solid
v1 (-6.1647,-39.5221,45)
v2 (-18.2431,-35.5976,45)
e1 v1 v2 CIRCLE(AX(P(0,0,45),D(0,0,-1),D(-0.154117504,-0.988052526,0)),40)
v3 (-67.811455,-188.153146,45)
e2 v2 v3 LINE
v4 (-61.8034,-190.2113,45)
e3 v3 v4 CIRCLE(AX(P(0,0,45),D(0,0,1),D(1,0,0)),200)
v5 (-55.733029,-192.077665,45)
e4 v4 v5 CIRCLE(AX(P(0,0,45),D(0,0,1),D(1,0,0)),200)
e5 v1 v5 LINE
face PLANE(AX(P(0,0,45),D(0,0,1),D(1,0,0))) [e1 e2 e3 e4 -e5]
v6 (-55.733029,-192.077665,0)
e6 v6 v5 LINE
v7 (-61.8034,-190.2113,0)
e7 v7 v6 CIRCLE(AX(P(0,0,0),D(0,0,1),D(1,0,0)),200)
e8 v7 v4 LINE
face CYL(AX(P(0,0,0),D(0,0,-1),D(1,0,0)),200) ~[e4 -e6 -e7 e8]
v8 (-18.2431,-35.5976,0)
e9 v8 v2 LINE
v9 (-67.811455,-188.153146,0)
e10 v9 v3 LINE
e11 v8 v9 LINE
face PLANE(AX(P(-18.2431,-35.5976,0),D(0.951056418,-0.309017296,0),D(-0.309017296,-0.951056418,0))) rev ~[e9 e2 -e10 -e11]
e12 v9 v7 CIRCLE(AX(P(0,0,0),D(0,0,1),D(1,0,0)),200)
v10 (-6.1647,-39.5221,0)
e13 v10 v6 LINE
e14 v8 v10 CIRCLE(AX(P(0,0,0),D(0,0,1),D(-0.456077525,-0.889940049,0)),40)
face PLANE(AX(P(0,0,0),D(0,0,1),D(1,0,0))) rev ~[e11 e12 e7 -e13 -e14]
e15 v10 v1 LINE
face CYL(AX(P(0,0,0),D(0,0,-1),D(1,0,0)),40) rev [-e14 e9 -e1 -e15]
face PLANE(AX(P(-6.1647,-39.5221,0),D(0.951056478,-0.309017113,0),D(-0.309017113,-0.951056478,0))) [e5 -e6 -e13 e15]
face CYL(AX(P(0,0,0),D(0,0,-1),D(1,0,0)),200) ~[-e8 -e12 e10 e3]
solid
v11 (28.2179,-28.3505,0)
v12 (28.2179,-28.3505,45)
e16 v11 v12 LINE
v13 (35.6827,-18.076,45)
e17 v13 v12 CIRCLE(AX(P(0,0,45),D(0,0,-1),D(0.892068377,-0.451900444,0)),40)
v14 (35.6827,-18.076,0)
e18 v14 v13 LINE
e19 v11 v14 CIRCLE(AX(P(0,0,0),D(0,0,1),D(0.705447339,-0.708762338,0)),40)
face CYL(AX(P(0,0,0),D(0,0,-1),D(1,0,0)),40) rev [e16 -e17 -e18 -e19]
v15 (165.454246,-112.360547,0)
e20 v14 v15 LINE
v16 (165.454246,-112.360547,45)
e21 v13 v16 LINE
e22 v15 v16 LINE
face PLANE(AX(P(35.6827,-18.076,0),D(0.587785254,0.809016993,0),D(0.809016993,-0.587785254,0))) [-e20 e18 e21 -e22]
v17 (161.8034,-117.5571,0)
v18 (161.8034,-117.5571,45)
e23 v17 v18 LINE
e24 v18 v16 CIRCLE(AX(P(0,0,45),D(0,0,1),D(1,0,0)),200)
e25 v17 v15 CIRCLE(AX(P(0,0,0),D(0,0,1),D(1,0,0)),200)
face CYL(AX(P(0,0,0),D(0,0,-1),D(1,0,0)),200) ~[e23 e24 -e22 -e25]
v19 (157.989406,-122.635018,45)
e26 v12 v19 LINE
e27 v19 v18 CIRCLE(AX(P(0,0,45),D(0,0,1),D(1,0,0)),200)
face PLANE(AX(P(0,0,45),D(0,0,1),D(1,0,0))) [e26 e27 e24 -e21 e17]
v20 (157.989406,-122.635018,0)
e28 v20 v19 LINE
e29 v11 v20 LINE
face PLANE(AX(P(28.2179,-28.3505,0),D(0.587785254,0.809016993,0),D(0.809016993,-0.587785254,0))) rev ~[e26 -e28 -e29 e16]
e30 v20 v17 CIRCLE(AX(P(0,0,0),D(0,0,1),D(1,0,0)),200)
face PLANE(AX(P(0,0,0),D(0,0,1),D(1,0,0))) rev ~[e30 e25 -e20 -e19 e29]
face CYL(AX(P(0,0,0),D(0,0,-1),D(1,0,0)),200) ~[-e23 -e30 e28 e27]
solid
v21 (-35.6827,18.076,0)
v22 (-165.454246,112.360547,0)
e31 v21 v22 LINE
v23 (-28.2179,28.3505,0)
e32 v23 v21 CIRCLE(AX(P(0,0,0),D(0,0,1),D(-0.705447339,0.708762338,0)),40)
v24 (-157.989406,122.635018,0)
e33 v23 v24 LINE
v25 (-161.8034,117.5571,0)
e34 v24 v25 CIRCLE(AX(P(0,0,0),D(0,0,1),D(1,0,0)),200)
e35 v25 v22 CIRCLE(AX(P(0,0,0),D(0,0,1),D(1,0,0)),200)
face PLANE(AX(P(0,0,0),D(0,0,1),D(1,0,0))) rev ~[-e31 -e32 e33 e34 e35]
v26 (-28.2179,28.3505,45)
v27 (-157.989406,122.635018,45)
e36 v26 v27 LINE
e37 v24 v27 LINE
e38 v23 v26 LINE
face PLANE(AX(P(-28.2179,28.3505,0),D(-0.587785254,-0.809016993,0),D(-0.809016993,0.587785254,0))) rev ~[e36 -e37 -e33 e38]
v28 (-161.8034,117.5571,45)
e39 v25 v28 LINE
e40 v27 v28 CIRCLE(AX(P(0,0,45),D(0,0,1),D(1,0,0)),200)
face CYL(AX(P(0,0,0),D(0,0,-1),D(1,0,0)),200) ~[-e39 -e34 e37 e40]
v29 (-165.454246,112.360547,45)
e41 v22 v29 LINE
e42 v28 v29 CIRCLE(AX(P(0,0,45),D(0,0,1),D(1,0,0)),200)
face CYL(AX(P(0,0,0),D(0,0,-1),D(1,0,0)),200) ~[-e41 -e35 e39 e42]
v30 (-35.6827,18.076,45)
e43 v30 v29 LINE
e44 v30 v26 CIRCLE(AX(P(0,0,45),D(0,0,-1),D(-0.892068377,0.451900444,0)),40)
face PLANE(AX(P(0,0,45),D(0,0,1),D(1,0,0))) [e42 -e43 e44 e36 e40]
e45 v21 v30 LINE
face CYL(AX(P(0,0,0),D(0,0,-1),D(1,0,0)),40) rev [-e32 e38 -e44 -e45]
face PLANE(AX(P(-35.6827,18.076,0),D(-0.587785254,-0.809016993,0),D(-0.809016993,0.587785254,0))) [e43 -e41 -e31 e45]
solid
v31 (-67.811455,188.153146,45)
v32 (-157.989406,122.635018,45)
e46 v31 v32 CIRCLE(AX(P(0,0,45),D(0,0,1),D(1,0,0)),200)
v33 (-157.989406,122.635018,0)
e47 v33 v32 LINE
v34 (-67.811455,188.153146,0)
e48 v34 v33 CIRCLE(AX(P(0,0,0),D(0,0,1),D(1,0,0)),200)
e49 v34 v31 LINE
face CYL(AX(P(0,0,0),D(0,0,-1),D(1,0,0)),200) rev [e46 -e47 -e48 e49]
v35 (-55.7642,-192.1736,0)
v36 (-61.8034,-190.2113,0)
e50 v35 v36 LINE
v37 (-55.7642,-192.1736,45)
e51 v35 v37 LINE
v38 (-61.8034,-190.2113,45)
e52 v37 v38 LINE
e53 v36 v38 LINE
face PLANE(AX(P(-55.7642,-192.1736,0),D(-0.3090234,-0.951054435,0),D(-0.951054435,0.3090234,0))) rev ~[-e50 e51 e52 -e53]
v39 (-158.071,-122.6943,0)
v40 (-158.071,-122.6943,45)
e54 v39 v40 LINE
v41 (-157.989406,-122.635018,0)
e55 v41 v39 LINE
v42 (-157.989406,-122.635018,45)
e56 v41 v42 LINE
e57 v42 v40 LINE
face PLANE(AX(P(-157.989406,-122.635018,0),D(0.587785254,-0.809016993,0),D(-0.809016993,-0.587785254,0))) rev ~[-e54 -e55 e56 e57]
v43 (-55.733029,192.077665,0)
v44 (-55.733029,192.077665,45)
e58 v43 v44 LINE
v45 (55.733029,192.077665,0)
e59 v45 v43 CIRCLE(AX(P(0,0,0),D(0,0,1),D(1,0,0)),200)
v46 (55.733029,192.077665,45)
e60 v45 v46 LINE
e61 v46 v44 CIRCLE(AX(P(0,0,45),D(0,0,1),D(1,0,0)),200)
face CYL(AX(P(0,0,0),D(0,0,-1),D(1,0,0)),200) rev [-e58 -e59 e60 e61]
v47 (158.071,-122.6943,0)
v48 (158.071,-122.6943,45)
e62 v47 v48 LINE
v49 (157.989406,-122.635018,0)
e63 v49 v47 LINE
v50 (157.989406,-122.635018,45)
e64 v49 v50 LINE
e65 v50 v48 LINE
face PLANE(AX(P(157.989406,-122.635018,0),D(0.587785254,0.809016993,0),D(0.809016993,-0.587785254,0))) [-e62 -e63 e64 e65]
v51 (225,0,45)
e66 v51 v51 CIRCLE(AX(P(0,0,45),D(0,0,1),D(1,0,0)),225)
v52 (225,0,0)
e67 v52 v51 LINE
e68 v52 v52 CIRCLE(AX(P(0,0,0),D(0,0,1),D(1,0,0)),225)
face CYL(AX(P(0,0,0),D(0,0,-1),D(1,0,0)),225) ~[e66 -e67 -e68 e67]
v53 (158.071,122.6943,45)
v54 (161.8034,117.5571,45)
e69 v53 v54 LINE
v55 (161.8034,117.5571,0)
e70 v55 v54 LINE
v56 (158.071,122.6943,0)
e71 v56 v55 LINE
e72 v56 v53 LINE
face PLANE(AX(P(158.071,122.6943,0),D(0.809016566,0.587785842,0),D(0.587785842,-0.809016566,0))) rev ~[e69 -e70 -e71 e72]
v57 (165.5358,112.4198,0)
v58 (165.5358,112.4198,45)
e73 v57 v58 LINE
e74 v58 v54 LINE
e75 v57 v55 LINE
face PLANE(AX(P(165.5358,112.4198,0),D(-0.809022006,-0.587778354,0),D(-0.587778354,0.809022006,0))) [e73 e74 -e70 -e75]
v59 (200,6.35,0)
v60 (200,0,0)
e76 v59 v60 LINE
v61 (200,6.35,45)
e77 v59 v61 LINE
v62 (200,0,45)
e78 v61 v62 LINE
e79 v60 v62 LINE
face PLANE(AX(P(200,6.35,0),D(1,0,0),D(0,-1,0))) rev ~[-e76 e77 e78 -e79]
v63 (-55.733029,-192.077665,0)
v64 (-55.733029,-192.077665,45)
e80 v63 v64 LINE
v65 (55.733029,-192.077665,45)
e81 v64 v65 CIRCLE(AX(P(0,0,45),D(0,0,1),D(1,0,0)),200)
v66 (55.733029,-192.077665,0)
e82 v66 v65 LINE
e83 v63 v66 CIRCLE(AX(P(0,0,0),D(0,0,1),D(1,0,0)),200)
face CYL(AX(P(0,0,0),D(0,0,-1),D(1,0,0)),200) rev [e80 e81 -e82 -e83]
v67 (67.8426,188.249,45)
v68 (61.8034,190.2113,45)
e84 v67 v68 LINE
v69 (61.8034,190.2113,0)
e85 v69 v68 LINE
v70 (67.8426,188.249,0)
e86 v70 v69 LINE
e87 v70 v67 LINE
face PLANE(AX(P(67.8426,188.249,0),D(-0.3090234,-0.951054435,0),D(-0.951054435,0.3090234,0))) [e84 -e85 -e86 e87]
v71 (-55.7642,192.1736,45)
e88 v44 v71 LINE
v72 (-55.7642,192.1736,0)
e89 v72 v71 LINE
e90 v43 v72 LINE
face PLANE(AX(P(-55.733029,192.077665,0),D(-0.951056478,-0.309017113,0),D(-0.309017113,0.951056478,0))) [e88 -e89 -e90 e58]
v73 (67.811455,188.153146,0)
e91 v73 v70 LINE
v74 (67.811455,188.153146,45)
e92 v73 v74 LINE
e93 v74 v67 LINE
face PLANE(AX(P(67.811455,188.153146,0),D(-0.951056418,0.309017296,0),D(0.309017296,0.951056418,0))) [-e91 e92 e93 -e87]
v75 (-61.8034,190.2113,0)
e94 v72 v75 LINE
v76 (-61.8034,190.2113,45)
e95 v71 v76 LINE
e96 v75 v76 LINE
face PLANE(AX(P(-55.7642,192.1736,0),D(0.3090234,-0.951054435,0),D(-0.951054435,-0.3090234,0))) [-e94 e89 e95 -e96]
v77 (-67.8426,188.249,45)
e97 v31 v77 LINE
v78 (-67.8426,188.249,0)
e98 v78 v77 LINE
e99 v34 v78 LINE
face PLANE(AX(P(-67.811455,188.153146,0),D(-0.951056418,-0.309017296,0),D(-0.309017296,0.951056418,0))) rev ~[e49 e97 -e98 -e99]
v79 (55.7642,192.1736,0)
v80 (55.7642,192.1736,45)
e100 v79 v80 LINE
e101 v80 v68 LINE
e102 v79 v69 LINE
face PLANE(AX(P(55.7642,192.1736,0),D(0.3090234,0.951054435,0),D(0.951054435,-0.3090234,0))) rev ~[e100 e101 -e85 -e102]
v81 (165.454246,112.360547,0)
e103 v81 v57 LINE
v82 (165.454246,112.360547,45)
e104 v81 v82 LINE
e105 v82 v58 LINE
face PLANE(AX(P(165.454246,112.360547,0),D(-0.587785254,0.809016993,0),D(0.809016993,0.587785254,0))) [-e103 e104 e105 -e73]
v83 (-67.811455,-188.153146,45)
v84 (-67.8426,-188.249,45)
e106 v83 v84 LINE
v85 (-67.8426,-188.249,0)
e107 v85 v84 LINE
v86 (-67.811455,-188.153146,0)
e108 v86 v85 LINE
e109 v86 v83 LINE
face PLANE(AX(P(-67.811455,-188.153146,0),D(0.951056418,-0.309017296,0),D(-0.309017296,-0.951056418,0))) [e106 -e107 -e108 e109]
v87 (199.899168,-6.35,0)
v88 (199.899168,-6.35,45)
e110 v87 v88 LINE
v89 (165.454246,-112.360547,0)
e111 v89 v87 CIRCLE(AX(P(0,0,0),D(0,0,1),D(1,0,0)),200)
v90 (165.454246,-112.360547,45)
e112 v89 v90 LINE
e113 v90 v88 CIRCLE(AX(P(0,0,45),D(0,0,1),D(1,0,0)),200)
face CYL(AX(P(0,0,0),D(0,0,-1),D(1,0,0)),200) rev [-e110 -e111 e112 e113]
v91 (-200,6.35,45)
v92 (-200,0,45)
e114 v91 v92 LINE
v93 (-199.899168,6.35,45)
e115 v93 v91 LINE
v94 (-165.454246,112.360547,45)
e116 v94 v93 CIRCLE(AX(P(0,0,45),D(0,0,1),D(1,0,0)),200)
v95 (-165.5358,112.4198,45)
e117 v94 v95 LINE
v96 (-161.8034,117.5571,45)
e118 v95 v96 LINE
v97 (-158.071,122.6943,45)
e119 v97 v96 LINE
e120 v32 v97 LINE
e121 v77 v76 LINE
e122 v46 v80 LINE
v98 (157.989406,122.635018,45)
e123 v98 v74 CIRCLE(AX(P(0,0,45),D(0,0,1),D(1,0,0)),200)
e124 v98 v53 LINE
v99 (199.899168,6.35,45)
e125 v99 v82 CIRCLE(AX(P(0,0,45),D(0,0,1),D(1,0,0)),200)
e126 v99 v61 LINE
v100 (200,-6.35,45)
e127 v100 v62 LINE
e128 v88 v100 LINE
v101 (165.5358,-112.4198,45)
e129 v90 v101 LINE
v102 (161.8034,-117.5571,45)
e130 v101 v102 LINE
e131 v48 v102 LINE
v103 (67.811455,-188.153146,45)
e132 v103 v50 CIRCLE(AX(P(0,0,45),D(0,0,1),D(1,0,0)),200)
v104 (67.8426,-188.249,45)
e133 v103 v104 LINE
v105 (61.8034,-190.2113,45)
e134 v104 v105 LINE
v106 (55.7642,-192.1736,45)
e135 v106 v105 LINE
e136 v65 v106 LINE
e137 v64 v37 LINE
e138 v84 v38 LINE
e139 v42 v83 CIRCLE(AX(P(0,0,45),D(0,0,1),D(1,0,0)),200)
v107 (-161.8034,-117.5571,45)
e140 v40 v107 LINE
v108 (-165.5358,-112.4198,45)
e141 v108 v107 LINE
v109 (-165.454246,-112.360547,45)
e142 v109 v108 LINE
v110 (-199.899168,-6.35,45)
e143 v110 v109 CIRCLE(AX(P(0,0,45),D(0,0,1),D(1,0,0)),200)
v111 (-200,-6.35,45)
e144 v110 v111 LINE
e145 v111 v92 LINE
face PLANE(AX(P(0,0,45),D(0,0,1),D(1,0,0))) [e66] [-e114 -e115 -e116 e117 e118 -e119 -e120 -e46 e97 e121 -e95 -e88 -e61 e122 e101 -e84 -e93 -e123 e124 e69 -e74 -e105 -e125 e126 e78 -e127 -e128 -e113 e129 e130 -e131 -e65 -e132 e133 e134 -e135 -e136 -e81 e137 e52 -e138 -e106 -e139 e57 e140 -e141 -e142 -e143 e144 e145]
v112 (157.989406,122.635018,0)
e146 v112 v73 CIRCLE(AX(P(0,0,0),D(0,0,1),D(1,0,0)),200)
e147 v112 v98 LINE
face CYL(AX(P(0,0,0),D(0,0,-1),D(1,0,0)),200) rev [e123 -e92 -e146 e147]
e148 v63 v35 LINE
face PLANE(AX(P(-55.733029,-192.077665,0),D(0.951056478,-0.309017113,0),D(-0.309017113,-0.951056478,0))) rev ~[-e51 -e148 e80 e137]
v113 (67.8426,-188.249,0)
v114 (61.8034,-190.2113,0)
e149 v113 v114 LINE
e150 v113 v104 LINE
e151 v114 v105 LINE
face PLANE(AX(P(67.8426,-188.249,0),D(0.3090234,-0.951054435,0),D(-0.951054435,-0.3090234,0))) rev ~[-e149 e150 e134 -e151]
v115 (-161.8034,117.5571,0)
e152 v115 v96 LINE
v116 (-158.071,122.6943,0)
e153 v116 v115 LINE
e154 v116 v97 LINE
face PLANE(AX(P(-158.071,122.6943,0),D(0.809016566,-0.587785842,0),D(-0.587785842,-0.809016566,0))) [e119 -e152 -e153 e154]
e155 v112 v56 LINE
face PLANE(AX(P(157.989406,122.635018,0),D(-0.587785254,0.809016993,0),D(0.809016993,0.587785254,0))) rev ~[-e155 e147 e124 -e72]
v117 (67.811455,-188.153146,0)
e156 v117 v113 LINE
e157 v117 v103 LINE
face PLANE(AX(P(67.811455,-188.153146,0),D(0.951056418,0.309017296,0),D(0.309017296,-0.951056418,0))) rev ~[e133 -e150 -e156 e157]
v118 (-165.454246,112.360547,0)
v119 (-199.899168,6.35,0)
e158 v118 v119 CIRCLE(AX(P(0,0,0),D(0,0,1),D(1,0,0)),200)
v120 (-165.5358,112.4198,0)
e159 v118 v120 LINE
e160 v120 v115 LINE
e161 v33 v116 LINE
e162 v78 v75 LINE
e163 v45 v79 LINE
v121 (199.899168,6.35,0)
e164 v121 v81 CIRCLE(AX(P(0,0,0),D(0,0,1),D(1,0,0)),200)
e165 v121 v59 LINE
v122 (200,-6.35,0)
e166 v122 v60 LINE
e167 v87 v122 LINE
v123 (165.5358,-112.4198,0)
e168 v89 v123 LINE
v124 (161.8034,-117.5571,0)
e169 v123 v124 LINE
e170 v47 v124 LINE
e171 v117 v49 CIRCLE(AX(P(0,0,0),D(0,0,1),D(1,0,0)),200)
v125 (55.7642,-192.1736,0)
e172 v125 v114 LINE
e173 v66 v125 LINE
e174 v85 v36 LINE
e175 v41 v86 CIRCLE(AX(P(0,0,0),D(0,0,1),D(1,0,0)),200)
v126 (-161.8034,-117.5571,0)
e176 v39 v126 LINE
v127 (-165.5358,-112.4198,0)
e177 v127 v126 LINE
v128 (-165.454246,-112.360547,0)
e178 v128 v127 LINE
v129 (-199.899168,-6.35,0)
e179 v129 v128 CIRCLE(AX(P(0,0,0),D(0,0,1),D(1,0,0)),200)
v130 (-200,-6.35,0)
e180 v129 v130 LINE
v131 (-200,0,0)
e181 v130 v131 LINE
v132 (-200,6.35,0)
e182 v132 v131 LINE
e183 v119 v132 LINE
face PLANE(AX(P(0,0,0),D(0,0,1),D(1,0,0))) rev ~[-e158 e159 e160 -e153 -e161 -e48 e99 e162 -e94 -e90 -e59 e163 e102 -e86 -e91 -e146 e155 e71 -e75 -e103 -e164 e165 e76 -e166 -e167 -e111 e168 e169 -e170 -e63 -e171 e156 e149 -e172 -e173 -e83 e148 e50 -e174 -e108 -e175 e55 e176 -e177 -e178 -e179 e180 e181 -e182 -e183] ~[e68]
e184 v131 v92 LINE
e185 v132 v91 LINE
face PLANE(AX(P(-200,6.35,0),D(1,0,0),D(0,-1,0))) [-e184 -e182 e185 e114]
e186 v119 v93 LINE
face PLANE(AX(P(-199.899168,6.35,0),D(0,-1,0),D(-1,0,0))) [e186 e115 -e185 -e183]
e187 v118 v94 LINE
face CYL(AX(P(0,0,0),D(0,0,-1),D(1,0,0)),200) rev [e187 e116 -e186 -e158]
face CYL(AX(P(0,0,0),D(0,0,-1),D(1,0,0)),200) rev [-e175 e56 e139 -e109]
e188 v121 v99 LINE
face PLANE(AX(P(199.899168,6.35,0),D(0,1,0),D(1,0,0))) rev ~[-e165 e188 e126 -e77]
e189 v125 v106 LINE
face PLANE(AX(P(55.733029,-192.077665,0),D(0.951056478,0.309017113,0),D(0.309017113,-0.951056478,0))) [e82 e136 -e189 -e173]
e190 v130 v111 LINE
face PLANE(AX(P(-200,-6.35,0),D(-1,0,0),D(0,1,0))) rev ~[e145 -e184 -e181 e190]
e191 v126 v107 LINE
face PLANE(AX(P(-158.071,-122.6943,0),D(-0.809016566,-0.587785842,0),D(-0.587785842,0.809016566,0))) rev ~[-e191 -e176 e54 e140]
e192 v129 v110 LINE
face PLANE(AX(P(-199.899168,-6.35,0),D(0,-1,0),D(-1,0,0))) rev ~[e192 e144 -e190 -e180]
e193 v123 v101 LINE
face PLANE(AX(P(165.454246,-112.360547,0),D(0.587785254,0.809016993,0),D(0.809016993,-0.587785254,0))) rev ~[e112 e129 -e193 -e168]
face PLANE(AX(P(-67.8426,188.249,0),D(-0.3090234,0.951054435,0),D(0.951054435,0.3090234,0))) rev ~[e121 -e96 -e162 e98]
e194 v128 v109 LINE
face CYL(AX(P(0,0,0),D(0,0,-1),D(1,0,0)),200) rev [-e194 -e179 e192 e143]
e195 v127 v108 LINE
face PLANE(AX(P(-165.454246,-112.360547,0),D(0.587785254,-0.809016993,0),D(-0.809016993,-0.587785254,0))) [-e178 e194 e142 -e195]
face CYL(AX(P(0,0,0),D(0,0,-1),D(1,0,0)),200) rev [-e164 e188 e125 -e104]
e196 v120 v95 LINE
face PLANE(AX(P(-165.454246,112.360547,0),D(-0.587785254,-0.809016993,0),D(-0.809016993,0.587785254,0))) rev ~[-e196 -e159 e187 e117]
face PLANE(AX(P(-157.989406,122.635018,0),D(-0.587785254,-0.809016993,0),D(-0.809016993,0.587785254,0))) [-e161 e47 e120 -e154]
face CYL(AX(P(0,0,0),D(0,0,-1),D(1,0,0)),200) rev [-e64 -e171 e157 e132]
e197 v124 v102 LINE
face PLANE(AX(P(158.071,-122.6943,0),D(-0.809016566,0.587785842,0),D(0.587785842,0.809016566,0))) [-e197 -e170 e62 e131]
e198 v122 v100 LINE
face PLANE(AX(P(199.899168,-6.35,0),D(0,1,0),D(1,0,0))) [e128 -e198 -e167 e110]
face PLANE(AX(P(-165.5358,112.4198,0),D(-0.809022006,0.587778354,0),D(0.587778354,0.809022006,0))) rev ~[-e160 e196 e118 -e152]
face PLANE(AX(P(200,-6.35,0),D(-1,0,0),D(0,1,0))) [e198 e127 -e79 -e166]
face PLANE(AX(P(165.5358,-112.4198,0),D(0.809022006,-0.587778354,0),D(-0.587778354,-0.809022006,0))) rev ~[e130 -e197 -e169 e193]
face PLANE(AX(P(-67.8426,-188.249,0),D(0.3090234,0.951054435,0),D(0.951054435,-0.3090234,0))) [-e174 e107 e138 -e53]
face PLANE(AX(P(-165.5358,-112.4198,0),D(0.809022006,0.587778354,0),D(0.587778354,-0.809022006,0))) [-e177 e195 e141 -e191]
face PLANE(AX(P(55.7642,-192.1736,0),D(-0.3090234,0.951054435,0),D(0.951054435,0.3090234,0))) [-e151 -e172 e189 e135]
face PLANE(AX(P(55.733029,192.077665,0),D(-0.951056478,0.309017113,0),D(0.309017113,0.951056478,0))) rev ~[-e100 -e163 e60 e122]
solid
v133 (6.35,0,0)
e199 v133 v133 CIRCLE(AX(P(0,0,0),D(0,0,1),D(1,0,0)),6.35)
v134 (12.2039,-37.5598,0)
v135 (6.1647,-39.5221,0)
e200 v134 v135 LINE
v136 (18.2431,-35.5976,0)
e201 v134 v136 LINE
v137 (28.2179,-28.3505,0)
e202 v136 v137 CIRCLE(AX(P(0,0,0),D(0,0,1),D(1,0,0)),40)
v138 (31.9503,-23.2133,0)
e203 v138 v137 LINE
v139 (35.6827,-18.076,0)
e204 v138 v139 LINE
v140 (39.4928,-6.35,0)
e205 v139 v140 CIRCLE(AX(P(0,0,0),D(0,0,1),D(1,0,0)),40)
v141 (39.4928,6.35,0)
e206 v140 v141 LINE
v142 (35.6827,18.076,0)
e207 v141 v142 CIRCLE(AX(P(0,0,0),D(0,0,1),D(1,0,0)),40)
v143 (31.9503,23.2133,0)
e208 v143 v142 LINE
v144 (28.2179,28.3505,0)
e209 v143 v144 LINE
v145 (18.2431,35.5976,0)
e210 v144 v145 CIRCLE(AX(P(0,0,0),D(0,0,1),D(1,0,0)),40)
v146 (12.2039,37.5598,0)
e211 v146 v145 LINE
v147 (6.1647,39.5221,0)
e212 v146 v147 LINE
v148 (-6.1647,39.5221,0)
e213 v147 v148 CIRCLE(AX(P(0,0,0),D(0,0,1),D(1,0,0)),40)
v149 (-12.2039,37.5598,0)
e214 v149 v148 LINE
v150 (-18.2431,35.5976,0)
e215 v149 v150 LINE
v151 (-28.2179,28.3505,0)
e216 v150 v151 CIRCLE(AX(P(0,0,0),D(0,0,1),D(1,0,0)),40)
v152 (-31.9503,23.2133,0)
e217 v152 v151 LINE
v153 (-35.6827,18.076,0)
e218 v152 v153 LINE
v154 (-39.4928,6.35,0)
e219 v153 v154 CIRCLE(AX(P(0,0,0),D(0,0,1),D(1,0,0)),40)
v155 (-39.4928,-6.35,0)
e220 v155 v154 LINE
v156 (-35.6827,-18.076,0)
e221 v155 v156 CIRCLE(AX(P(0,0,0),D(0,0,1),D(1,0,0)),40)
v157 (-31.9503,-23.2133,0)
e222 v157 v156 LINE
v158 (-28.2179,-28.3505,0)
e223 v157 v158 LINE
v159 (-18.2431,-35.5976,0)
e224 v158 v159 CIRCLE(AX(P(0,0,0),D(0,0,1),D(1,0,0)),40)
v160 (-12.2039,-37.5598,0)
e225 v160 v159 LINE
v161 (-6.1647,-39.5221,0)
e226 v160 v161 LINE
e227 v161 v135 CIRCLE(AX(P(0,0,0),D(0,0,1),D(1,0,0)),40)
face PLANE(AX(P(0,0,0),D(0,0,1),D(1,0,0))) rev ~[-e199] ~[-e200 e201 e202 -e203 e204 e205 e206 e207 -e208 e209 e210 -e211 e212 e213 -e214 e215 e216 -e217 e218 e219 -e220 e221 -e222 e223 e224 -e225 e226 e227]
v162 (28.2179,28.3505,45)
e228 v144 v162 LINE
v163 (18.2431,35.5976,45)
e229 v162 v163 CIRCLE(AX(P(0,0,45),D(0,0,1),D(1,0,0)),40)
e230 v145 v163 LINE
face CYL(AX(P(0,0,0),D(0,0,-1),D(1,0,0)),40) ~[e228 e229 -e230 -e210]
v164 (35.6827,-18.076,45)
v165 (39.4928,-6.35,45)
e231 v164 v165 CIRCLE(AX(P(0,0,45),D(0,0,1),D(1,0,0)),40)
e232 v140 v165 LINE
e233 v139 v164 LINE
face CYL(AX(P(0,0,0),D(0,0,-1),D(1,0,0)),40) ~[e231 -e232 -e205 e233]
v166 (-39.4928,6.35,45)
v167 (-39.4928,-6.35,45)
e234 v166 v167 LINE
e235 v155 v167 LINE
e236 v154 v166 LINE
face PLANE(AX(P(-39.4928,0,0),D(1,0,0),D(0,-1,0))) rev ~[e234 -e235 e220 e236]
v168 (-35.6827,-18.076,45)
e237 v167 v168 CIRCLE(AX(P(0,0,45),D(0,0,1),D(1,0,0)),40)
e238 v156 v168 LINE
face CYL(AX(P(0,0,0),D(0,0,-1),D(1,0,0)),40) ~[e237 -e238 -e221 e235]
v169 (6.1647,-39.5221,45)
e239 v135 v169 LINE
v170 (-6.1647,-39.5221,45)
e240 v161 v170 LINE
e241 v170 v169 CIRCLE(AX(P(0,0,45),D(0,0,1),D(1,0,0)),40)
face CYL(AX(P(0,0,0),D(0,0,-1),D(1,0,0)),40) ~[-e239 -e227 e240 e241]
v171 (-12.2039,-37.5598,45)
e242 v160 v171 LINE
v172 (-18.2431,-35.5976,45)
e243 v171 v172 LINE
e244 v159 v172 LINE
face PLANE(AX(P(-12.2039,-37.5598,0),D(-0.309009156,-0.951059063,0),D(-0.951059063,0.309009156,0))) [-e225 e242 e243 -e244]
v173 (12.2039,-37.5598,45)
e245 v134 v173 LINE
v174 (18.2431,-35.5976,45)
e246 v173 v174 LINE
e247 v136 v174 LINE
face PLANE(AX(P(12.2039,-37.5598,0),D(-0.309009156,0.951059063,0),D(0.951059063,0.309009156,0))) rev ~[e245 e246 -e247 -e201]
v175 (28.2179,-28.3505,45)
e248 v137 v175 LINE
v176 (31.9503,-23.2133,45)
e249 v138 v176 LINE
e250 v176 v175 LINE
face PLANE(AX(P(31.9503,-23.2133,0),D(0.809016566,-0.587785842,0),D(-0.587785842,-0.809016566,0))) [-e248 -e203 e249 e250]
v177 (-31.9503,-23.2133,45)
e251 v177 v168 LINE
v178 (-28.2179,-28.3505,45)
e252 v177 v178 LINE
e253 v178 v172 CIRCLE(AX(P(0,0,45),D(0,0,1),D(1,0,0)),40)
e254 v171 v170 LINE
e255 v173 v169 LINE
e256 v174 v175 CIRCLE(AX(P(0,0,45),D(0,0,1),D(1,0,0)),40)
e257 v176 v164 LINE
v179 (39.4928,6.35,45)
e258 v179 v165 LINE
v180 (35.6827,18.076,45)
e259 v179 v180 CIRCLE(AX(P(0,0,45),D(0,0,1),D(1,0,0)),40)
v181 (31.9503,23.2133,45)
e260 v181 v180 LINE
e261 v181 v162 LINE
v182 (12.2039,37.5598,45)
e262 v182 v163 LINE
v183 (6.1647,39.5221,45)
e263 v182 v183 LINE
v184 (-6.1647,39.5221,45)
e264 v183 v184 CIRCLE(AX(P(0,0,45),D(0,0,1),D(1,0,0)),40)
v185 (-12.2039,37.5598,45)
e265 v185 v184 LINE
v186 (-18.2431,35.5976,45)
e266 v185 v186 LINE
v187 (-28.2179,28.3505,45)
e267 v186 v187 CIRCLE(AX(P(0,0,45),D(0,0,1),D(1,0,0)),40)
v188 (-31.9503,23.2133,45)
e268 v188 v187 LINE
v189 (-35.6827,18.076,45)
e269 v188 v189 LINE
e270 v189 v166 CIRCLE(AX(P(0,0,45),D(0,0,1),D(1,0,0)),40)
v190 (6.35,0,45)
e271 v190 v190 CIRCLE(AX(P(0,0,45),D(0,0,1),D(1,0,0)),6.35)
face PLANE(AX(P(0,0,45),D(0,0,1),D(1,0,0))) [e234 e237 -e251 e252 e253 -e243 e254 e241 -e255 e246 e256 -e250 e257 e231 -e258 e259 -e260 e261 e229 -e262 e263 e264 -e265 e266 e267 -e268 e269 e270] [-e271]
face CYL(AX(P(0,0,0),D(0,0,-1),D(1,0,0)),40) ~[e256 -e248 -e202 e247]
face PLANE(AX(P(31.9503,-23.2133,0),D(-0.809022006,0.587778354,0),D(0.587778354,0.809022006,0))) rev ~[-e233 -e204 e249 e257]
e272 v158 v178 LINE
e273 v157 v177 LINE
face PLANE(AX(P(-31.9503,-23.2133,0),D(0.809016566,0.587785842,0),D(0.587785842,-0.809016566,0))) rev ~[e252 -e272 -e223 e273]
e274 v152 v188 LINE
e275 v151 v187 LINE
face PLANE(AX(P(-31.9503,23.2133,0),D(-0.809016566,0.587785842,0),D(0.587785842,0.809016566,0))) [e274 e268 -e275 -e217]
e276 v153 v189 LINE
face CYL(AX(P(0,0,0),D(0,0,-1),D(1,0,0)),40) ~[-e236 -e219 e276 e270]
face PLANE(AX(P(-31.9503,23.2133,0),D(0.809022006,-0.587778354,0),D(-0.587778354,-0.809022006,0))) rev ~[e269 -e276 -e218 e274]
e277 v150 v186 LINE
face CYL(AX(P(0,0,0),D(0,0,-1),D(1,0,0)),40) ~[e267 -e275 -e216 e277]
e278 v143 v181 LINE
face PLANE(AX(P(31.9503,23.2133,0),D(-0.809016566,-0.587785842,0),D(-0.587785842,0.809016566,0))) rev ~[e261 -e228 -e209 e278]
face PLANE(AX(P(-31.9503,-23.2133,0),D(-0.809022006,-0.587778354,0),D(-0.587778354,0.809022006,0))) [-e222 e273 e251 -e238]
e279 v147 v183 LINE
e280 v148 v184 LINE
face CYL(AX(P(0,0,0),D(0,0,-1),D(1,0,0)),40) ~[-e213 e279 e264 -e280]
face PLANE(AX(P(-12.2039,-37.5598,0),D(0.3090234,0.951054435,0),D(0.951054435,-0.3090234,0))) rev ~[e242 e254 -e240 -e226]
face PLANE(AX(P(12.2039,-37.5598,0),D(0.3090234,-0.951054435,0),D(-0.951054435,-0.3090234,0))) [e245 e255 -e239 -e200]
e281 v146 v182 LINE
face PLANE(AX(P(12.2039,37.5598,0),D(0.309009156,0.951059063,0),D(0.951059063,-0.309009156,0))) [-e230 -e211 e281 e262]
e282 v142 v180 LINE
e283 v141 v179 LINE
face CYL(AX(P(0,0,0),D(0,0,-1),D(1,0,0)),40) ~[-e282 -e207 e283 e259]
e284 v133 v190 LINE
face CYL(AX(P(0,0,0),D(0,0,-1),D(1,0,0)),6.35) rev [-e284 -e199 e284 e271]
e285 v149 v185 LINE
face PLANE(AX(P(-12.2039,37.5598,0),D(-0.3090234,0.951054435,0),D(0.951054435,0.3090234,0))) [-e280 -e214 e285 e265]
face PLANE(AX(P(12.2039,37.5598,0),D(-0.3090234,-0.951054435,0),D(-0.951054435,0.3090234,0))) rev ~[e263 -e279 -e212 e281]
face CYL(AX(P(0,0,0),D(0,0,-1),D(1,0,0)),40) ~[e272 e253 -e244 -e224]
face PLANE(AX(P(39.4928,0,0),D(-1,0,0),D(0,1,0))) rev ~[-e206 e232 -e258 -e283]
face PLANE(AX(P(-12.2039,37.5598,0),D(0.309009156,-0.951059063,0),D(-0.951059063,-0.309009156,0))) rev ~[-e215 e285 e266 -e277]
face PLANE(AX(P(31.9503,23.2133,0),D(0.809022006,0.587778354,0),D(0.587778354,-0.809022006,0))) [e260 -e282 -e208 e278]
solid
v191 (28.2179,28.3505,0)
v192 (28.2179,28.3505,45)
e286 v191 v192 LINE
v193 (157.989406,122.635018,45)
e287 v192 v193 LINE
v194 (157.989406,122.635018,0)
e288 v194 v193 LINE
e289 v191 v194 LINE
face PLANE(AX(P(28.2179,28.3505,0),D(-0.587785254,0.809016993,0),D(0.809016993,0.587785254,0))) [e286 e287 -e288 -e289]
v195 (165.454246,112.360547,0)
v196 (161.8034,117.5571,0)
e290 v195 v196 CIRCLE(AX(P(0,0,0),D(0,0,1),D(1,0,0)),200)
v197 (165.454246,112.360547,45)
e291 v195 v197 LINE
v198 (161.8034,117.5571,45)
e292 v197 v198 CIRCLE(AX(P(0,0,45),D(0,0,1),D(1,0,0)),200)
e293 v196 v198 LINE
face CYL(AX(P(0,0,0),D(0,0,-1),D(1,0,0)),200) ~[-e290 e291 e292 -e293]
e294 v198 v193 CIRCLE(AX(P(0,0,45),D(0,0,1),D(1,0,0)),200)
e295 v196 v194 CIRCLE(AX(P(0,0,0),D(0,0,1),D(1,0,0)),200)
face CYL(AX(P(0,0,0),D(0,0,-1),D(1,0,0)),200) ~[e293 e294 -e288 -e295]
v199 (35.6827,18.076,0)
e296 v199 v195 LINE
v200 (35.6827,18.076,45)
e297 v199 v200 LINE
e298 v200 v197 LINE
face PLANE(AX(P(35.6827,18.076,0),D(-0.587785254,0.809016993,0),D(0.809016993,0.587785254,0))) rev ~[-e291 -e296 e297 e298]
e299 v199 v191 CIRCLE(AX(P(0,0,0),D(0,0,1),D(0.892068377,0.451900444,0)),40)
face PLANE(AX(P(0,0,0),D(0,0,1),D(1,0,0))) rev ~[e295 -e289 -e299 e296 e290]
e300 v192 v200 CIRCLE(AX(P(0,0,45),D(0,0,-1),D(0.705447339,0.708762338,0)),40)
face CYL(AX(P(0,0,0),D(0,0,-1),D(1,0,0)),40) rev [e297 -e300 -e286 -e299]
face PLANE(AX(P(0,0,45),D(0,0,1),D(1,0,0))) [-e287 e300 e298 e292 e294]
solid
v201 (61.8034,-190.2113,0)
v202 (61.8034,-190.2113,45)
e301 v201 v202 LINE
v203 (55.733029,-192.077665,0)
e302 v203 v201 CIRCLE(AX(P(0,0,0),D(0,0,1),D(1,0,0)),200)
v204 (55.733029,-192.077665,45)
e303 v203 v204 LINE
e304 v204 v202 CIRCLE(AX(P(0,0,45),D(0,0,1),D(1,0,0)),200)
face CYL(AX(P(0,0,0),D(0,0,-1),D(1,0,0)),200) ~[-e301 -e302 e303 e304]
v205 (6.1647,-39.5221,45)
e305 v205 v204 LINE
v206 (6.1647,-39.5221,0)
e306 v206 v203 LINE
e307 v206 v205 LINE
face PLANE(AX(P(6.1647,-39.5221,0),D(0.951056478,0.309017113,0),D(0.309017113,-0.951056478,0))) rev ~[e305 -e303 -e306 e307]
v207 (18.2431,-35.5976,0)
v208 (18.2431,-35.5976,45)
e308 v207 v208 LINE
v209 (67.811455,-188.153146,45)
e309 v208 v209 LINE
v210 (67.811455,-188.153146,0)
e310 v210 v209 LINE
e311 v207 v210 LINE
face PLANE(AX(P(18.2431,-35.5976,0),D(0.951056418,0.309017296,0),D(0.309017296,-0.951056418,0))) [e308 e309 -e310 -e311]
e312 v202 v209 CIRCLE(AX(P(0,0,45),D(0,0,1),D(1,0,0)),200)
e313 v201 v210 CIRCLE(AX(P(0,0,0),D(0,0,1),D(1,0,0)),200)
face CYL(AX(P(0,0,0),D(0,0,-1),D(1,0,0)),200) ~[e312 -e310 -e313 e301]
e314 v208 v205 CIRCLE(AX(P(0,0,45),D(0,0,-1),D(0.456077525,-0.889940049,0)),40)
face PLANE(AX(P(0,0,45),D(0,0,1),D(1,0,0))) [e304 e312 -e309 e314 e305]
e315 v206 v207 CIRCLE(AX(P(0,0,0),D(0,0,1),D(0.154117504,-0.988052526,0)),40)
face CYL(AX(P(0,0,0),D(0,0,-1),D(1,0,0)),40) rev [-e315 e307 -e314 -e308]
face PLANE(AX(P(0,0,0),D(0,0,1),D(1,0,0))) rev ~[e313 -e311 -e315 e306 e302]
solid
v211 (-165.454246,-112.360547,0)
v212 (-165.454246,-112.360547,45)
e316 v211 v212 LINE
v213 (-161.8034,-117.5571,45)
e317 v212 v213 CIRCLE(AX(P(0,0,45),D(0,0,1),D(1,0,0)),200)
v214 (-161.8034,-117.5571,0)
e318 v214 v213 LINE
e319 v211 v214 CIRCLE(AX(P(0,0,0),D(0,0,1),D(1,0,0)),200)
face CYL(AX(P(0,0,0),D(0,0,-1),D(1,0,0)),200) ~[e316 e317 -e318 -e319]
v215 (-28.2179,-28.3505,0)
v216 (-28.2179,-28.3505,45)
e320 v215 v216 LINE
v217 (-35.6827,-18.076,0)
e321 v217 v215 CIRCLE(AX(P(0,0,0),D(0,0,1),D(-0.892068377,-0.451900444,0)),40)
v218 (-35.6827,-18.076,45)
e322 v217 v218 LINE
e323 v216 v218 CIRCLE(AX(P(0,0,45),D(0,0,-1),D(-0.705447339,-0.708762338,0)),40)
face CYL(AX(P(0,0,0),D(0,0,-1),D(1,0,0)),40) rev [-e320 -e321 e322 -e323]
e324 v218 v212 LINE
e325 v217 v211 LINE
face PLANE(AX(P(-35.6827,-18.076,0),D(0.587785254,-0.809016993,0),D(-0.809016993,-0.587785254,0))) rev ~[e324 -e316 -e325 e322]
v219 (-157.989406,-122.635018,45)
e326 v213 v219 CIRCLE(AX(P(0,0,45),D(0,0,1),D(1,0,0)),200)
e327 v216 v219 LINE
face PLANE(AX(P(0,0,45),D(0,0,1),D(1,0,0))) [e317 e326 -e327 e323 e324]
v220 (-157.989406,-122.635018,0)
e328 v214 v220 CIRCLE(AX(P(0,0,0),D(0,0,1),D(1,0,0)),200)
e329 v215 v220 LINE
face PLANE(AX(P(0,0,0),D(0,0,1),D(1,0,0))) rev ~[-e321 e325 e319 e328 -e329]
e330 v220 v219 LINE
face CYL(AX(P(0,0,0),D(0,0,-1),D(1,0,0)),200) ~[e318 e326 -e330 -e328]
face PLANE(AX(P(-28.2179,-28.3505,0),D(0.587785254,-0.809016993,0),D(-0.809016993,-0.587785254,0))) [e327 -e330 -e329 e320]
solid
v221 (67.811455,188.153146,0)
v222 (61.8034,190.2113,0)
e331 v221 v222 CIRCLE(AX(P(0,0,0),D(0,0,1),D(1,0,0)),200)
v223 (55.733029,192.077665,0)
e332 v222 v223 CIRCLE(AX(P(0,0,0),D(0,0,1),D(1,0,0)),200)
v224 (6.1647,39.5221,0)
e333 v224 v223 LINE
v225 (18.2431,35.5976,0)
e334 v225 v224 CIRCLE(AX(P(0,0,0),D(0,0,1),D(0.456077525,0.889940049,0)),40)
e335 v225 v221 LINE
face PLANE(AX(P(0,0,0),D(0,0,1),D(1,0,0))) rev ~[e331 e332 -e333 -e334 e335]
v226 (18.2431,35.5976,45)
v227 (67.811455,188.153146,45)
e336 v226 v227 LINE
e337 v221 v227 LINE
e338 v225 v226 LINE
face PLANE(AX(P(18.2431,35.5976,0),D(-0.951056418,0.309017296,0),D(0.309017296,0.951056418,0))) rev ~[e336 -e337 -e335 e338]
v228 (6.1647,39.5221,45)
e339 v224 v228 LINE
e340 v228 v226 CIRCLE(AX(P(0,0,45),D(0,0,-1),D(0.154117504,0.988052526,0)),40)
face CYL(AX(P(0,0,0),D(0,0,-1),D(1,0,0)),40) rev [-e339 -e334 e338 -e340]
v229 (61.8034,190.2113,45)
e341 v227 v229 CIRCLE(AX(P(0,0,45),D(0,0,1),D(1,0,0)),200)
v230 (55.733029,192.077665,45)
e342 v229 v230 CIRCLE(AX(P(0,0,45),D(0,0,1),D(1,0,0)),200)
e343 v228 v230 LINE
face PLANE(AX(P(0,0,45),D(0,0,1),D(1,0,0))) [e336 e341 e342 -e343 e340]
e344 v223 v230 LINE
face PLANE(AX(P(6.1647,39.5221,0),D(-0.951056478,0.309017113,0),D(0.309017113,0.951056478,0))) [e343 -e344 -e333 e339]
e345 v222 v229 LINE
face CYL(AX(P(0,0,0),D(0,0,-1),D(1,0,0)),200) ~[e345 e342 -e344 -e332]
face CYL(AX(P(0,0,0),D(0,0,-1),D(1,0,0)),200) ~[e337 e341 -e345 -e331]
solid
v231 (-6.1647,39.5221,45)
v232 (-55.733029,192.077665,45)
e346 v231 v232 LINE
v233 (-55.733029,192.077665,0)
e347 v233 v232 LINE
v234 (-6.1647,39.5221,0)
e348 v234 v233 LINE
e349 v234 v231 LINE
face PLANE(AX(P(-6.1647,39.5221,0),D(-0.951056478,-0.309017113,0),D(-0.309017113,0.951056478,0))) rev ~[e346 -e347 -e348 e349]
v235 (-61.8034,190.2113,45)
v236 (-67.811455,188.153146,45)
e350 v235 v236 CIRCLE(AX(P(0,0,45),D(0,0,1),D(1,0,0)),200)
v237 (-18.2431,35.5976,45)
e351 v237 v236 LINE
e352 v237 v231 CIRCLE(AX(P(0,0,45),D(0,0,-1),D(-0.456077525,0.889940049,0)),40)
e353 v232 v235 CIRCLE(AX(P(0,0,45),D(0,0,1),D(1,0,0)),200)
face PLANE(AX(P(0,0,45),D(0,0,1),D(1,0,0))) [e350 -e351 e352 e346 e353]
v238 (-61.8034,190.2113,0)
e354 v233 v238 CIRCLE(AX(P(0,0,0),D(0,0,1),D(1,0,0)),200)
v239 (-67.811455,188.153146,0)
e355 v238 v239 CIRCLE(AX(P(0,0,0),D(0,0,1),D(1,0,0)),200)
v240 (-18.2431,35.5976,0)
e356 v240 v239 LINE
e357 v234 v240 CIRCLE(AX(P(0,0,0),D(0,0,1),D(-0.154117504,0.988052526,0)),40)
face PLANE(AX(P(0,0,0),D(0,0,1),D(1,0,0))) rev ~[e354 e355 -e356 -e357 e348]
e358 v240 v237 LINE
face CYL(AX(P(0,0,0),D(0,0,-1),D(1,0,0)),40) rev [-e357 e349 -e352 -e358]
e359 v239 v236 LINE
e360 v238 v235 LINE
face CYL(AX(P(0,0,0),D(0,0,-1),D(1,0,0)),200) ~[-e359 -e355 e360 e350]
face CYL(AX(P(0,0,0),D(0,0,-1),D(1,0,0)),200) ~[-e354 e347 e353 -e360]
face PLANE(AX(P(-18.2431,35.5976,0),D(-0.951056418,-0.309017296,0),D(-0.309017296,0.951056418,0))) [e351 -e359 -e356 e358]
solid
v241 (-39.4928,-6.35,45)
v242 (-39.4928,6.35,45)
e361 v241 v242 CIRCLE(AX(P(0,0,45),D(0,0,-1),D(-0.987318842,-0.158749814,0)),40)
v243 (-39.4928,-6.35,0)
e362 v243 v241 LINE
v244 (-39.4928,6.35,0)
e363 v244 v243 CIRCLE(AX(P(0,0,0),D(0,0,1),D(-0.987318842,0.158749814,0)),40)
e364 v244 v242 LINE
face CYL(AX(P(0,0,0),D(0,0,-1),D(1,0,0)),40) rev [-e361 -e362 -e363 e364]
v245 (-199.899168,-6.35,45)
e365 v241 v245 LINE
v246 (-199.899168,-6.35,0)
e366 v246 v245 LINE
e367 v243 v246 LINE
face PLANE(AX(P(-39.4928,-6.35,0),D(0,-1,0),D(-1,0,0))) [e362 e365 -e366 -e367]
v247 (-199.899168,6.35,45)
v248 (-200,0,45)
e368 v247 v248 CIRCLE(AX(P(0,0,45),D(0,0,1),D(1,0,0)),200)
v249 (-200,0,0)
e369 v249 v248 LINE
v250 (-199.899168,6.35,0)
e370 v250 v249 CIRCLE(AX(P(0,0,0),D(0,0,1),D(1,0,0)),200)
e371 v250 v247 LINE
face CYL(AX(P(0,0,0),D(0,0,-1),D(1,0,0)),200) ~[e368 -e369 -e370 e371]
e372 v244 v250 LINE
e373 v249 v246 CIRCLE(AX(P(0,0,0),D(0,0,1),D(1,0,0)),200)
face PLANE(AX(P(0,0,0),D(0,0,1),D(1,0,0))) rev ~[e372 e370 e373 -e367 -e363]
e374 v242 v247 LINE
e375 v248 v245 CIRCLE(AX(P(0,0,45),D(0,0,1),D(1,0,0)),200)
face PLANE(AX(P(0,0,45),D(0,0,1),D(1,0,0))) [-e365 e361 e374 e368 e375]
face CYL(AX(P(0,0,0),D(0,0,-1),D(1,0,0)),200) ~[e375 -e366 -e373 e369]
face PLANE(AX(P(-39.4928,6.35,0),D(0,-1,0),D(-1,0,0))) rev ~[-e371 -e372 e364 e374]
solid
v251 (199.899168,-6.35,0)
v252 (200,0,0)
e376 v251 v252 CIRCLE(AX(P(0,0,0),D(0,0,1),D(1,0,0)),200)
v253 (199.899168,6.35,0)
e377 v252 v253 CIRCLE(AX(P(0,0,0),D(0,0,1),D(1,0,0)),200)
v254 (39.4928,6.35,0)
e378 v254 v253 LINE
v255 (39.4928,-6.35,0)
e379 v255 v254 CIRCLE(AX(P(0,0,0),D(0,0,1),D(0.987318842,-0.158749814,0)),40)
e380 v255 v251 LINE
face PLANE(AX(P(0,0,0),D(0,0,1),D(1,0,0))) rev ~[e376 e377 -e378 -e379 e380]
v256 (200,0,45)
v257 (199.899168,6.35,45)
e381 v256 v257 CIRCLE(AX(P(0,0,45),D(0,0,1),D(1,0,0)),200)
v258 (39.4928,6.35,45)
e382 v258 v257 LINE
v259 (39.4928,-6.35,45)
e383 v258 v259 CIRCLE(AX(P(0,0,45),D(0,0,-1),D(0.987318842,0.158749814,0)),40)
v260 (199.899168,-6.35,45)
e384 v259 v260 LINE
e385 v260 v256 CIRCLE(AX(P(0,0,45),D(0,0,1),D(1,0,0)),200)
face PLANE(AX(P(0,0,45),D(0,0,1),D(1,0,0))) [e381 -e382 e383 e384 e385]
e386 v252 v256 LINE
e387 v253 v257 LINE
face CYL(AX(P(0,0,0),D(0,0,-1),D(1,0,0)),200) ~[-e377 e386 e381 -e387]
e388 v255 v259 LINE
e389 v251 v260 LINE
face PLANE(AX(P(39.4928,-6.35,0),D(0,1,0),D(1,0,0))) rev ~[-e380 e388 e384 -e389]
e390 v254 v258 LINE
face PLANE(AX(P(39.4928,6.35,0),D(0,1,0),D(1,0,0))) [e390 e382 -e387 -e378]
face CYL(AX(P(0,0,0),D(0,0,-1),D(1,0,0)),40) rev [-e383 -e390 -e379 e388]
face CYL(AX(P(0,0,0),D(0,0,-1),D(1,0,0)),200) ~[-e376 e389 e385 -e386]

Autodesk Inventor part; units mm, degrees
ref_plane "YZ Plane" through (0, 0, 0) normal (1, 0, 0) x (0, 1, 0)
ref_plane "XZ Plane" through (0, 0, 0) normal (0, 1, 0) x (-1, 0, 0)
ref_plane "XY Plane" through (0, 0, 0) normal (0, 0, 1) x (1, 0, 0)
sketch "Sketch1" plane through (0, 0, 0) normal (0, 0, 1) x (1, 0, 0)
  circle A0 centre (0, 0) radius 225
  circle A1 centre (0, 0) radius 6.35
  circle A2 centre (0, 0) radius 40
  circle A3 centre (0, 0) radius 200
  line L0 (-40, 0) -> (-200, 0)
  line L1 (-200, 0) -> (-39.4928, 0)
  line L2 (-39.4928, 0) -> (-39.4928, 6.35)
  line L3 (-39.4928, 6.35) -> (-200, 6.35)
  line L4 (-200, 6.35) -> (-200, 0)
  line L5 (-39.4928, 0) -> (-39.4928, -6.35)
  line L6 (-39.4928, -6.35) -> (-200, -6.35)
  line L7 (-200, -6.35) -> (-200, 0)
  line L8 (-32.3607, -23.5114) -> (-161.8034, -117.5571)
  line L9 (-161.8034, -117.5571) -> (-31.9503, -23.2133)
  line L10 (-31.9503, -23.2133) -> (-35.6827, -18.076)
  line L11 (-35.6827, -18.076) -> (-165.5358, -112.4198)
  line L12 (-165.5358, -112.4198) -> (-161.8034, -117.5571)
  line L13 (-28.2179, -28.3505) -> (-158.071, -122.6943)
  line L14 (-31.9503, -23.2133) -> (-28.2179, -28.3505)
  line L15 (-158.071, -122.6943) -> (-161.8034, -117.5571)
  line L16 (-12.3607, -38.0423) -> (-61.8034, -190.2113)
  line L17 (-61.8034, -190.2113) -> (-12.2039, -37.5598)
  line L18 (-12.2039, -37.5598) -> (-18.2431, -35.5976)
  line L19 (-18.2431, -35.5976) -> (-67.8426, -188.249)
  line L20 (-67.8426, -188.249) -> (-61.8034, -190.2113)
  line L21 (-6.1647, -39.5221) -> (-55.7642, -192.1736)
  line L22 (-12.2039, -37.5598) -> (-6.1647, -39.5221)
  line L23 (-55.7642, -192.1736) -> (-61.8034, -190.2113)
  line L24 (12.3607, -38.0423) -> (61.8034, -190.2113)
  line L25 (61.8034, -190.2113) -> (12.2039, -37.5598)
  line L26 (12.2039, -37.5598) -> (6.1647, -39.5221)
  line L27 (6.1647, -39.5221) -> (55.7642, -192.1736)
  line L28 (55.7642, -192.1736) -> (61.8034, -190.2113)
  line L29 (18.2431, -35.5976) -> (67.8426, -188.249)
  line L30 (12.2039, -37.5598) -> (18.2431, -35.5976)
  line L31 (67.8426, -188.249) -> (61.8034, -190.2113)
  line L32 (32.3607, -23.5114) -> (161.8034, -117.5571)
  line L33 (161.8034, -117.5571) -> (31.9503, -23.2133)
  line L34 (31.9503, -23.2133) -> (28.2179, -28.3505)
  line L35 (28.2179, -28.3505) -> (158.071, -122.6943)
  line L36 (158.071, -122.6943) -> (161.8034, -117.5571)
  line L37 (35.6827, -18.076) -> (165.5358, -112.4198)
  line L38 (31.9503, -23.2133) -> (35.6827, -18.076)
  line L39 (165.5358, -112.4198) -> (161.8034, -117.5571)
  line L40 (40, 0) -> (200, 0)
  line L41 (200, 0) -> (39.4928, 0)
  line L42 (39.4928, 0) -> (39.4928, -6.35)
  line L43 (39.4928, -6.35) -> (200, -6.35)
  line L44 (200, -6.35) -> (200, 0)
  line L45 (39.4928, 6.35) -> (200, 6.35)
  line L46 (39.4928, 0) -> (39.4928, 6.35)
  line L47 (200, 6.35) -> (200, 0)
  line L48 (32.3607, 23.5114) -> (161.8034, 117.5571)
  line L49 (161.8034, 117.5571) -> (31.9503, 23.2133)
  line L50 (31.9503, 23.2133) -> (35.6827, 18.076)
  line L51 (35.6827, 18.076) -> (165.5358, 112.4198)
  line L52 (165.5358, 112.4198) -> (161.8034, 117.5571)
  line L53 (28.2179, 28.3505) -> (158.071, 122.6943)
  line L54 (31.9503, 23.2133) -> (28.2179, 28.3505)
  line L55 (158.071, 122.6943) -> (161.8034, 117.5571)
  line L56 (12.3607, 38.0423) -> (61.8034, 190.2113)
  line L57 (61.8034, 190.2113) -> (12.2039, 37.5598)
  line L58 (12.2039, 37.5598) -> (18.2431, 35.5976)
  line L59 (18.2431, 35.5976) -> (67.8426, 188.249)
  line L60 (67.8426, 188.249) -> (61.8034, 190.2113)
  line L61 (6.1647, 39.5221) -> (55.7642, 192.1736)
  line L62 (12.2039, 37.5598) -> (6.1647, 39.5221)
  line L63 (55.7642, 192.1736) -> (61.8034, 190.2113)
  line L64 (-12.3607, 38.0423) -> (-61.8034, 190.2113)
  line L65 (-61.8034, 190.2113) -> (-12.2039, 37.5598)
  line L66 (-12.2039, 37.5598) -> (-6.1647, 39.5221)
  line L67 (-6.1647, 39.5221) -> (-55.7642, 192.1736)
  line L68 (-55.7642, 192.1736) -> (-61.8034, 190.2113)
  line L69 (-18.2431, 35.5976) -> (-67.8426, 188.249)
  line L70 (-12.2039, 37.5598) -> (-18.2431, 35.5976)
  line L71 (-67.8426, 188.249) -> (-61.8034, 190.2113)
  line L72 (-32.3607, 23.5114) -> (-161.8034, 117.5571)
  line L73 (-161.8034, 117.5571) -> (-31.9503, 23.2133)
  line L74 (-31.9503, 23.2133) -> (-28.2179, 28.3505)
  line L75 (-28.2179, 28.3505) -> (-158.071, 122.6943)
  line L76 (-158.071, 122.6943) -> (-161.8034, 117.5571)
  line L77 (-35.6827, 18.076) -> (-165.5358, 112.4198)
  line L78 (-31.9503, 23.2133) -> (-35.6827, 18.076)
  line L79 (-165.5358, 112.4198) -> (-161.8034, 117.5571)
  point P0 (200, 0)
  point P1 (200, 0)
  point P2 (199.8992, -6.35)
  point P3 (165.4543, -112.3605)
  point P4 (157.9894, -122.635)
  point P5 (67.8114, -188.1531)
  point P6 (55.733, -192.0777)
  point P7 (-55.733, -192.0777)
  point P8 (-67.8114, -188.1531)
  point P9 (-157.9894, -122.635)
  point P10 (-165.4543, -112.3605)
  point P11 (-199.8992, -6.35)
  point P12 (-199.8992, 6.35)
  point P13 (-165.4543, 112.3605)
  point P14 (-157.9894, 122.635)
  point P15 (-67.8114, 188.1531)
  point P16 (-55.733, 192.0777)
  point P17 (55.733, 192.0777)
  point P18 (67.8114, 188.1531)
  point P19 (157.9894, 122.635)
  point P20 (165.4543, 112.3605)
  point P21 (199.8992, 6.35)
  dimension "d4" = 80
  dimension "d5" = 400
  dimension "d0" = 450
  dimension "d1" = 12.7
  dimension "d8" = 360
extrude "Extrusion2" add sketch "Sketch1" along normal blind 45 contours A0 | L40 A3 L43 A2 | A2 L45 A3 L40 | L46 L42 A2 L38 L34 L30 L26 L22 L18 L14 L10 L5 L2 L78 L74 L70 L66 L62 L58 L54 L50 | A2 L48 A3 L51 | L37 A3 L32 A2 | A2 L53 A3 L48 | L32 A3 L35 A2 | A2 L56 A3 L59 | L29 A3 L24 A2 | A2 L61 A3 L56 | L24 A3 L27 A2 | A2 L64 A3 L67 | L21 A3 L16 A2 | A2 L69 A3 L64 | L16 A3 L19 A2 | A2 L72 A3 L75 | L13 A3 L8 A2 | A2 L77 A3 L72 | L8 A3 L11 A2 | A2 L0 A3 L3 | L6 A3 L0 A2
properties part number "PoleaX"
